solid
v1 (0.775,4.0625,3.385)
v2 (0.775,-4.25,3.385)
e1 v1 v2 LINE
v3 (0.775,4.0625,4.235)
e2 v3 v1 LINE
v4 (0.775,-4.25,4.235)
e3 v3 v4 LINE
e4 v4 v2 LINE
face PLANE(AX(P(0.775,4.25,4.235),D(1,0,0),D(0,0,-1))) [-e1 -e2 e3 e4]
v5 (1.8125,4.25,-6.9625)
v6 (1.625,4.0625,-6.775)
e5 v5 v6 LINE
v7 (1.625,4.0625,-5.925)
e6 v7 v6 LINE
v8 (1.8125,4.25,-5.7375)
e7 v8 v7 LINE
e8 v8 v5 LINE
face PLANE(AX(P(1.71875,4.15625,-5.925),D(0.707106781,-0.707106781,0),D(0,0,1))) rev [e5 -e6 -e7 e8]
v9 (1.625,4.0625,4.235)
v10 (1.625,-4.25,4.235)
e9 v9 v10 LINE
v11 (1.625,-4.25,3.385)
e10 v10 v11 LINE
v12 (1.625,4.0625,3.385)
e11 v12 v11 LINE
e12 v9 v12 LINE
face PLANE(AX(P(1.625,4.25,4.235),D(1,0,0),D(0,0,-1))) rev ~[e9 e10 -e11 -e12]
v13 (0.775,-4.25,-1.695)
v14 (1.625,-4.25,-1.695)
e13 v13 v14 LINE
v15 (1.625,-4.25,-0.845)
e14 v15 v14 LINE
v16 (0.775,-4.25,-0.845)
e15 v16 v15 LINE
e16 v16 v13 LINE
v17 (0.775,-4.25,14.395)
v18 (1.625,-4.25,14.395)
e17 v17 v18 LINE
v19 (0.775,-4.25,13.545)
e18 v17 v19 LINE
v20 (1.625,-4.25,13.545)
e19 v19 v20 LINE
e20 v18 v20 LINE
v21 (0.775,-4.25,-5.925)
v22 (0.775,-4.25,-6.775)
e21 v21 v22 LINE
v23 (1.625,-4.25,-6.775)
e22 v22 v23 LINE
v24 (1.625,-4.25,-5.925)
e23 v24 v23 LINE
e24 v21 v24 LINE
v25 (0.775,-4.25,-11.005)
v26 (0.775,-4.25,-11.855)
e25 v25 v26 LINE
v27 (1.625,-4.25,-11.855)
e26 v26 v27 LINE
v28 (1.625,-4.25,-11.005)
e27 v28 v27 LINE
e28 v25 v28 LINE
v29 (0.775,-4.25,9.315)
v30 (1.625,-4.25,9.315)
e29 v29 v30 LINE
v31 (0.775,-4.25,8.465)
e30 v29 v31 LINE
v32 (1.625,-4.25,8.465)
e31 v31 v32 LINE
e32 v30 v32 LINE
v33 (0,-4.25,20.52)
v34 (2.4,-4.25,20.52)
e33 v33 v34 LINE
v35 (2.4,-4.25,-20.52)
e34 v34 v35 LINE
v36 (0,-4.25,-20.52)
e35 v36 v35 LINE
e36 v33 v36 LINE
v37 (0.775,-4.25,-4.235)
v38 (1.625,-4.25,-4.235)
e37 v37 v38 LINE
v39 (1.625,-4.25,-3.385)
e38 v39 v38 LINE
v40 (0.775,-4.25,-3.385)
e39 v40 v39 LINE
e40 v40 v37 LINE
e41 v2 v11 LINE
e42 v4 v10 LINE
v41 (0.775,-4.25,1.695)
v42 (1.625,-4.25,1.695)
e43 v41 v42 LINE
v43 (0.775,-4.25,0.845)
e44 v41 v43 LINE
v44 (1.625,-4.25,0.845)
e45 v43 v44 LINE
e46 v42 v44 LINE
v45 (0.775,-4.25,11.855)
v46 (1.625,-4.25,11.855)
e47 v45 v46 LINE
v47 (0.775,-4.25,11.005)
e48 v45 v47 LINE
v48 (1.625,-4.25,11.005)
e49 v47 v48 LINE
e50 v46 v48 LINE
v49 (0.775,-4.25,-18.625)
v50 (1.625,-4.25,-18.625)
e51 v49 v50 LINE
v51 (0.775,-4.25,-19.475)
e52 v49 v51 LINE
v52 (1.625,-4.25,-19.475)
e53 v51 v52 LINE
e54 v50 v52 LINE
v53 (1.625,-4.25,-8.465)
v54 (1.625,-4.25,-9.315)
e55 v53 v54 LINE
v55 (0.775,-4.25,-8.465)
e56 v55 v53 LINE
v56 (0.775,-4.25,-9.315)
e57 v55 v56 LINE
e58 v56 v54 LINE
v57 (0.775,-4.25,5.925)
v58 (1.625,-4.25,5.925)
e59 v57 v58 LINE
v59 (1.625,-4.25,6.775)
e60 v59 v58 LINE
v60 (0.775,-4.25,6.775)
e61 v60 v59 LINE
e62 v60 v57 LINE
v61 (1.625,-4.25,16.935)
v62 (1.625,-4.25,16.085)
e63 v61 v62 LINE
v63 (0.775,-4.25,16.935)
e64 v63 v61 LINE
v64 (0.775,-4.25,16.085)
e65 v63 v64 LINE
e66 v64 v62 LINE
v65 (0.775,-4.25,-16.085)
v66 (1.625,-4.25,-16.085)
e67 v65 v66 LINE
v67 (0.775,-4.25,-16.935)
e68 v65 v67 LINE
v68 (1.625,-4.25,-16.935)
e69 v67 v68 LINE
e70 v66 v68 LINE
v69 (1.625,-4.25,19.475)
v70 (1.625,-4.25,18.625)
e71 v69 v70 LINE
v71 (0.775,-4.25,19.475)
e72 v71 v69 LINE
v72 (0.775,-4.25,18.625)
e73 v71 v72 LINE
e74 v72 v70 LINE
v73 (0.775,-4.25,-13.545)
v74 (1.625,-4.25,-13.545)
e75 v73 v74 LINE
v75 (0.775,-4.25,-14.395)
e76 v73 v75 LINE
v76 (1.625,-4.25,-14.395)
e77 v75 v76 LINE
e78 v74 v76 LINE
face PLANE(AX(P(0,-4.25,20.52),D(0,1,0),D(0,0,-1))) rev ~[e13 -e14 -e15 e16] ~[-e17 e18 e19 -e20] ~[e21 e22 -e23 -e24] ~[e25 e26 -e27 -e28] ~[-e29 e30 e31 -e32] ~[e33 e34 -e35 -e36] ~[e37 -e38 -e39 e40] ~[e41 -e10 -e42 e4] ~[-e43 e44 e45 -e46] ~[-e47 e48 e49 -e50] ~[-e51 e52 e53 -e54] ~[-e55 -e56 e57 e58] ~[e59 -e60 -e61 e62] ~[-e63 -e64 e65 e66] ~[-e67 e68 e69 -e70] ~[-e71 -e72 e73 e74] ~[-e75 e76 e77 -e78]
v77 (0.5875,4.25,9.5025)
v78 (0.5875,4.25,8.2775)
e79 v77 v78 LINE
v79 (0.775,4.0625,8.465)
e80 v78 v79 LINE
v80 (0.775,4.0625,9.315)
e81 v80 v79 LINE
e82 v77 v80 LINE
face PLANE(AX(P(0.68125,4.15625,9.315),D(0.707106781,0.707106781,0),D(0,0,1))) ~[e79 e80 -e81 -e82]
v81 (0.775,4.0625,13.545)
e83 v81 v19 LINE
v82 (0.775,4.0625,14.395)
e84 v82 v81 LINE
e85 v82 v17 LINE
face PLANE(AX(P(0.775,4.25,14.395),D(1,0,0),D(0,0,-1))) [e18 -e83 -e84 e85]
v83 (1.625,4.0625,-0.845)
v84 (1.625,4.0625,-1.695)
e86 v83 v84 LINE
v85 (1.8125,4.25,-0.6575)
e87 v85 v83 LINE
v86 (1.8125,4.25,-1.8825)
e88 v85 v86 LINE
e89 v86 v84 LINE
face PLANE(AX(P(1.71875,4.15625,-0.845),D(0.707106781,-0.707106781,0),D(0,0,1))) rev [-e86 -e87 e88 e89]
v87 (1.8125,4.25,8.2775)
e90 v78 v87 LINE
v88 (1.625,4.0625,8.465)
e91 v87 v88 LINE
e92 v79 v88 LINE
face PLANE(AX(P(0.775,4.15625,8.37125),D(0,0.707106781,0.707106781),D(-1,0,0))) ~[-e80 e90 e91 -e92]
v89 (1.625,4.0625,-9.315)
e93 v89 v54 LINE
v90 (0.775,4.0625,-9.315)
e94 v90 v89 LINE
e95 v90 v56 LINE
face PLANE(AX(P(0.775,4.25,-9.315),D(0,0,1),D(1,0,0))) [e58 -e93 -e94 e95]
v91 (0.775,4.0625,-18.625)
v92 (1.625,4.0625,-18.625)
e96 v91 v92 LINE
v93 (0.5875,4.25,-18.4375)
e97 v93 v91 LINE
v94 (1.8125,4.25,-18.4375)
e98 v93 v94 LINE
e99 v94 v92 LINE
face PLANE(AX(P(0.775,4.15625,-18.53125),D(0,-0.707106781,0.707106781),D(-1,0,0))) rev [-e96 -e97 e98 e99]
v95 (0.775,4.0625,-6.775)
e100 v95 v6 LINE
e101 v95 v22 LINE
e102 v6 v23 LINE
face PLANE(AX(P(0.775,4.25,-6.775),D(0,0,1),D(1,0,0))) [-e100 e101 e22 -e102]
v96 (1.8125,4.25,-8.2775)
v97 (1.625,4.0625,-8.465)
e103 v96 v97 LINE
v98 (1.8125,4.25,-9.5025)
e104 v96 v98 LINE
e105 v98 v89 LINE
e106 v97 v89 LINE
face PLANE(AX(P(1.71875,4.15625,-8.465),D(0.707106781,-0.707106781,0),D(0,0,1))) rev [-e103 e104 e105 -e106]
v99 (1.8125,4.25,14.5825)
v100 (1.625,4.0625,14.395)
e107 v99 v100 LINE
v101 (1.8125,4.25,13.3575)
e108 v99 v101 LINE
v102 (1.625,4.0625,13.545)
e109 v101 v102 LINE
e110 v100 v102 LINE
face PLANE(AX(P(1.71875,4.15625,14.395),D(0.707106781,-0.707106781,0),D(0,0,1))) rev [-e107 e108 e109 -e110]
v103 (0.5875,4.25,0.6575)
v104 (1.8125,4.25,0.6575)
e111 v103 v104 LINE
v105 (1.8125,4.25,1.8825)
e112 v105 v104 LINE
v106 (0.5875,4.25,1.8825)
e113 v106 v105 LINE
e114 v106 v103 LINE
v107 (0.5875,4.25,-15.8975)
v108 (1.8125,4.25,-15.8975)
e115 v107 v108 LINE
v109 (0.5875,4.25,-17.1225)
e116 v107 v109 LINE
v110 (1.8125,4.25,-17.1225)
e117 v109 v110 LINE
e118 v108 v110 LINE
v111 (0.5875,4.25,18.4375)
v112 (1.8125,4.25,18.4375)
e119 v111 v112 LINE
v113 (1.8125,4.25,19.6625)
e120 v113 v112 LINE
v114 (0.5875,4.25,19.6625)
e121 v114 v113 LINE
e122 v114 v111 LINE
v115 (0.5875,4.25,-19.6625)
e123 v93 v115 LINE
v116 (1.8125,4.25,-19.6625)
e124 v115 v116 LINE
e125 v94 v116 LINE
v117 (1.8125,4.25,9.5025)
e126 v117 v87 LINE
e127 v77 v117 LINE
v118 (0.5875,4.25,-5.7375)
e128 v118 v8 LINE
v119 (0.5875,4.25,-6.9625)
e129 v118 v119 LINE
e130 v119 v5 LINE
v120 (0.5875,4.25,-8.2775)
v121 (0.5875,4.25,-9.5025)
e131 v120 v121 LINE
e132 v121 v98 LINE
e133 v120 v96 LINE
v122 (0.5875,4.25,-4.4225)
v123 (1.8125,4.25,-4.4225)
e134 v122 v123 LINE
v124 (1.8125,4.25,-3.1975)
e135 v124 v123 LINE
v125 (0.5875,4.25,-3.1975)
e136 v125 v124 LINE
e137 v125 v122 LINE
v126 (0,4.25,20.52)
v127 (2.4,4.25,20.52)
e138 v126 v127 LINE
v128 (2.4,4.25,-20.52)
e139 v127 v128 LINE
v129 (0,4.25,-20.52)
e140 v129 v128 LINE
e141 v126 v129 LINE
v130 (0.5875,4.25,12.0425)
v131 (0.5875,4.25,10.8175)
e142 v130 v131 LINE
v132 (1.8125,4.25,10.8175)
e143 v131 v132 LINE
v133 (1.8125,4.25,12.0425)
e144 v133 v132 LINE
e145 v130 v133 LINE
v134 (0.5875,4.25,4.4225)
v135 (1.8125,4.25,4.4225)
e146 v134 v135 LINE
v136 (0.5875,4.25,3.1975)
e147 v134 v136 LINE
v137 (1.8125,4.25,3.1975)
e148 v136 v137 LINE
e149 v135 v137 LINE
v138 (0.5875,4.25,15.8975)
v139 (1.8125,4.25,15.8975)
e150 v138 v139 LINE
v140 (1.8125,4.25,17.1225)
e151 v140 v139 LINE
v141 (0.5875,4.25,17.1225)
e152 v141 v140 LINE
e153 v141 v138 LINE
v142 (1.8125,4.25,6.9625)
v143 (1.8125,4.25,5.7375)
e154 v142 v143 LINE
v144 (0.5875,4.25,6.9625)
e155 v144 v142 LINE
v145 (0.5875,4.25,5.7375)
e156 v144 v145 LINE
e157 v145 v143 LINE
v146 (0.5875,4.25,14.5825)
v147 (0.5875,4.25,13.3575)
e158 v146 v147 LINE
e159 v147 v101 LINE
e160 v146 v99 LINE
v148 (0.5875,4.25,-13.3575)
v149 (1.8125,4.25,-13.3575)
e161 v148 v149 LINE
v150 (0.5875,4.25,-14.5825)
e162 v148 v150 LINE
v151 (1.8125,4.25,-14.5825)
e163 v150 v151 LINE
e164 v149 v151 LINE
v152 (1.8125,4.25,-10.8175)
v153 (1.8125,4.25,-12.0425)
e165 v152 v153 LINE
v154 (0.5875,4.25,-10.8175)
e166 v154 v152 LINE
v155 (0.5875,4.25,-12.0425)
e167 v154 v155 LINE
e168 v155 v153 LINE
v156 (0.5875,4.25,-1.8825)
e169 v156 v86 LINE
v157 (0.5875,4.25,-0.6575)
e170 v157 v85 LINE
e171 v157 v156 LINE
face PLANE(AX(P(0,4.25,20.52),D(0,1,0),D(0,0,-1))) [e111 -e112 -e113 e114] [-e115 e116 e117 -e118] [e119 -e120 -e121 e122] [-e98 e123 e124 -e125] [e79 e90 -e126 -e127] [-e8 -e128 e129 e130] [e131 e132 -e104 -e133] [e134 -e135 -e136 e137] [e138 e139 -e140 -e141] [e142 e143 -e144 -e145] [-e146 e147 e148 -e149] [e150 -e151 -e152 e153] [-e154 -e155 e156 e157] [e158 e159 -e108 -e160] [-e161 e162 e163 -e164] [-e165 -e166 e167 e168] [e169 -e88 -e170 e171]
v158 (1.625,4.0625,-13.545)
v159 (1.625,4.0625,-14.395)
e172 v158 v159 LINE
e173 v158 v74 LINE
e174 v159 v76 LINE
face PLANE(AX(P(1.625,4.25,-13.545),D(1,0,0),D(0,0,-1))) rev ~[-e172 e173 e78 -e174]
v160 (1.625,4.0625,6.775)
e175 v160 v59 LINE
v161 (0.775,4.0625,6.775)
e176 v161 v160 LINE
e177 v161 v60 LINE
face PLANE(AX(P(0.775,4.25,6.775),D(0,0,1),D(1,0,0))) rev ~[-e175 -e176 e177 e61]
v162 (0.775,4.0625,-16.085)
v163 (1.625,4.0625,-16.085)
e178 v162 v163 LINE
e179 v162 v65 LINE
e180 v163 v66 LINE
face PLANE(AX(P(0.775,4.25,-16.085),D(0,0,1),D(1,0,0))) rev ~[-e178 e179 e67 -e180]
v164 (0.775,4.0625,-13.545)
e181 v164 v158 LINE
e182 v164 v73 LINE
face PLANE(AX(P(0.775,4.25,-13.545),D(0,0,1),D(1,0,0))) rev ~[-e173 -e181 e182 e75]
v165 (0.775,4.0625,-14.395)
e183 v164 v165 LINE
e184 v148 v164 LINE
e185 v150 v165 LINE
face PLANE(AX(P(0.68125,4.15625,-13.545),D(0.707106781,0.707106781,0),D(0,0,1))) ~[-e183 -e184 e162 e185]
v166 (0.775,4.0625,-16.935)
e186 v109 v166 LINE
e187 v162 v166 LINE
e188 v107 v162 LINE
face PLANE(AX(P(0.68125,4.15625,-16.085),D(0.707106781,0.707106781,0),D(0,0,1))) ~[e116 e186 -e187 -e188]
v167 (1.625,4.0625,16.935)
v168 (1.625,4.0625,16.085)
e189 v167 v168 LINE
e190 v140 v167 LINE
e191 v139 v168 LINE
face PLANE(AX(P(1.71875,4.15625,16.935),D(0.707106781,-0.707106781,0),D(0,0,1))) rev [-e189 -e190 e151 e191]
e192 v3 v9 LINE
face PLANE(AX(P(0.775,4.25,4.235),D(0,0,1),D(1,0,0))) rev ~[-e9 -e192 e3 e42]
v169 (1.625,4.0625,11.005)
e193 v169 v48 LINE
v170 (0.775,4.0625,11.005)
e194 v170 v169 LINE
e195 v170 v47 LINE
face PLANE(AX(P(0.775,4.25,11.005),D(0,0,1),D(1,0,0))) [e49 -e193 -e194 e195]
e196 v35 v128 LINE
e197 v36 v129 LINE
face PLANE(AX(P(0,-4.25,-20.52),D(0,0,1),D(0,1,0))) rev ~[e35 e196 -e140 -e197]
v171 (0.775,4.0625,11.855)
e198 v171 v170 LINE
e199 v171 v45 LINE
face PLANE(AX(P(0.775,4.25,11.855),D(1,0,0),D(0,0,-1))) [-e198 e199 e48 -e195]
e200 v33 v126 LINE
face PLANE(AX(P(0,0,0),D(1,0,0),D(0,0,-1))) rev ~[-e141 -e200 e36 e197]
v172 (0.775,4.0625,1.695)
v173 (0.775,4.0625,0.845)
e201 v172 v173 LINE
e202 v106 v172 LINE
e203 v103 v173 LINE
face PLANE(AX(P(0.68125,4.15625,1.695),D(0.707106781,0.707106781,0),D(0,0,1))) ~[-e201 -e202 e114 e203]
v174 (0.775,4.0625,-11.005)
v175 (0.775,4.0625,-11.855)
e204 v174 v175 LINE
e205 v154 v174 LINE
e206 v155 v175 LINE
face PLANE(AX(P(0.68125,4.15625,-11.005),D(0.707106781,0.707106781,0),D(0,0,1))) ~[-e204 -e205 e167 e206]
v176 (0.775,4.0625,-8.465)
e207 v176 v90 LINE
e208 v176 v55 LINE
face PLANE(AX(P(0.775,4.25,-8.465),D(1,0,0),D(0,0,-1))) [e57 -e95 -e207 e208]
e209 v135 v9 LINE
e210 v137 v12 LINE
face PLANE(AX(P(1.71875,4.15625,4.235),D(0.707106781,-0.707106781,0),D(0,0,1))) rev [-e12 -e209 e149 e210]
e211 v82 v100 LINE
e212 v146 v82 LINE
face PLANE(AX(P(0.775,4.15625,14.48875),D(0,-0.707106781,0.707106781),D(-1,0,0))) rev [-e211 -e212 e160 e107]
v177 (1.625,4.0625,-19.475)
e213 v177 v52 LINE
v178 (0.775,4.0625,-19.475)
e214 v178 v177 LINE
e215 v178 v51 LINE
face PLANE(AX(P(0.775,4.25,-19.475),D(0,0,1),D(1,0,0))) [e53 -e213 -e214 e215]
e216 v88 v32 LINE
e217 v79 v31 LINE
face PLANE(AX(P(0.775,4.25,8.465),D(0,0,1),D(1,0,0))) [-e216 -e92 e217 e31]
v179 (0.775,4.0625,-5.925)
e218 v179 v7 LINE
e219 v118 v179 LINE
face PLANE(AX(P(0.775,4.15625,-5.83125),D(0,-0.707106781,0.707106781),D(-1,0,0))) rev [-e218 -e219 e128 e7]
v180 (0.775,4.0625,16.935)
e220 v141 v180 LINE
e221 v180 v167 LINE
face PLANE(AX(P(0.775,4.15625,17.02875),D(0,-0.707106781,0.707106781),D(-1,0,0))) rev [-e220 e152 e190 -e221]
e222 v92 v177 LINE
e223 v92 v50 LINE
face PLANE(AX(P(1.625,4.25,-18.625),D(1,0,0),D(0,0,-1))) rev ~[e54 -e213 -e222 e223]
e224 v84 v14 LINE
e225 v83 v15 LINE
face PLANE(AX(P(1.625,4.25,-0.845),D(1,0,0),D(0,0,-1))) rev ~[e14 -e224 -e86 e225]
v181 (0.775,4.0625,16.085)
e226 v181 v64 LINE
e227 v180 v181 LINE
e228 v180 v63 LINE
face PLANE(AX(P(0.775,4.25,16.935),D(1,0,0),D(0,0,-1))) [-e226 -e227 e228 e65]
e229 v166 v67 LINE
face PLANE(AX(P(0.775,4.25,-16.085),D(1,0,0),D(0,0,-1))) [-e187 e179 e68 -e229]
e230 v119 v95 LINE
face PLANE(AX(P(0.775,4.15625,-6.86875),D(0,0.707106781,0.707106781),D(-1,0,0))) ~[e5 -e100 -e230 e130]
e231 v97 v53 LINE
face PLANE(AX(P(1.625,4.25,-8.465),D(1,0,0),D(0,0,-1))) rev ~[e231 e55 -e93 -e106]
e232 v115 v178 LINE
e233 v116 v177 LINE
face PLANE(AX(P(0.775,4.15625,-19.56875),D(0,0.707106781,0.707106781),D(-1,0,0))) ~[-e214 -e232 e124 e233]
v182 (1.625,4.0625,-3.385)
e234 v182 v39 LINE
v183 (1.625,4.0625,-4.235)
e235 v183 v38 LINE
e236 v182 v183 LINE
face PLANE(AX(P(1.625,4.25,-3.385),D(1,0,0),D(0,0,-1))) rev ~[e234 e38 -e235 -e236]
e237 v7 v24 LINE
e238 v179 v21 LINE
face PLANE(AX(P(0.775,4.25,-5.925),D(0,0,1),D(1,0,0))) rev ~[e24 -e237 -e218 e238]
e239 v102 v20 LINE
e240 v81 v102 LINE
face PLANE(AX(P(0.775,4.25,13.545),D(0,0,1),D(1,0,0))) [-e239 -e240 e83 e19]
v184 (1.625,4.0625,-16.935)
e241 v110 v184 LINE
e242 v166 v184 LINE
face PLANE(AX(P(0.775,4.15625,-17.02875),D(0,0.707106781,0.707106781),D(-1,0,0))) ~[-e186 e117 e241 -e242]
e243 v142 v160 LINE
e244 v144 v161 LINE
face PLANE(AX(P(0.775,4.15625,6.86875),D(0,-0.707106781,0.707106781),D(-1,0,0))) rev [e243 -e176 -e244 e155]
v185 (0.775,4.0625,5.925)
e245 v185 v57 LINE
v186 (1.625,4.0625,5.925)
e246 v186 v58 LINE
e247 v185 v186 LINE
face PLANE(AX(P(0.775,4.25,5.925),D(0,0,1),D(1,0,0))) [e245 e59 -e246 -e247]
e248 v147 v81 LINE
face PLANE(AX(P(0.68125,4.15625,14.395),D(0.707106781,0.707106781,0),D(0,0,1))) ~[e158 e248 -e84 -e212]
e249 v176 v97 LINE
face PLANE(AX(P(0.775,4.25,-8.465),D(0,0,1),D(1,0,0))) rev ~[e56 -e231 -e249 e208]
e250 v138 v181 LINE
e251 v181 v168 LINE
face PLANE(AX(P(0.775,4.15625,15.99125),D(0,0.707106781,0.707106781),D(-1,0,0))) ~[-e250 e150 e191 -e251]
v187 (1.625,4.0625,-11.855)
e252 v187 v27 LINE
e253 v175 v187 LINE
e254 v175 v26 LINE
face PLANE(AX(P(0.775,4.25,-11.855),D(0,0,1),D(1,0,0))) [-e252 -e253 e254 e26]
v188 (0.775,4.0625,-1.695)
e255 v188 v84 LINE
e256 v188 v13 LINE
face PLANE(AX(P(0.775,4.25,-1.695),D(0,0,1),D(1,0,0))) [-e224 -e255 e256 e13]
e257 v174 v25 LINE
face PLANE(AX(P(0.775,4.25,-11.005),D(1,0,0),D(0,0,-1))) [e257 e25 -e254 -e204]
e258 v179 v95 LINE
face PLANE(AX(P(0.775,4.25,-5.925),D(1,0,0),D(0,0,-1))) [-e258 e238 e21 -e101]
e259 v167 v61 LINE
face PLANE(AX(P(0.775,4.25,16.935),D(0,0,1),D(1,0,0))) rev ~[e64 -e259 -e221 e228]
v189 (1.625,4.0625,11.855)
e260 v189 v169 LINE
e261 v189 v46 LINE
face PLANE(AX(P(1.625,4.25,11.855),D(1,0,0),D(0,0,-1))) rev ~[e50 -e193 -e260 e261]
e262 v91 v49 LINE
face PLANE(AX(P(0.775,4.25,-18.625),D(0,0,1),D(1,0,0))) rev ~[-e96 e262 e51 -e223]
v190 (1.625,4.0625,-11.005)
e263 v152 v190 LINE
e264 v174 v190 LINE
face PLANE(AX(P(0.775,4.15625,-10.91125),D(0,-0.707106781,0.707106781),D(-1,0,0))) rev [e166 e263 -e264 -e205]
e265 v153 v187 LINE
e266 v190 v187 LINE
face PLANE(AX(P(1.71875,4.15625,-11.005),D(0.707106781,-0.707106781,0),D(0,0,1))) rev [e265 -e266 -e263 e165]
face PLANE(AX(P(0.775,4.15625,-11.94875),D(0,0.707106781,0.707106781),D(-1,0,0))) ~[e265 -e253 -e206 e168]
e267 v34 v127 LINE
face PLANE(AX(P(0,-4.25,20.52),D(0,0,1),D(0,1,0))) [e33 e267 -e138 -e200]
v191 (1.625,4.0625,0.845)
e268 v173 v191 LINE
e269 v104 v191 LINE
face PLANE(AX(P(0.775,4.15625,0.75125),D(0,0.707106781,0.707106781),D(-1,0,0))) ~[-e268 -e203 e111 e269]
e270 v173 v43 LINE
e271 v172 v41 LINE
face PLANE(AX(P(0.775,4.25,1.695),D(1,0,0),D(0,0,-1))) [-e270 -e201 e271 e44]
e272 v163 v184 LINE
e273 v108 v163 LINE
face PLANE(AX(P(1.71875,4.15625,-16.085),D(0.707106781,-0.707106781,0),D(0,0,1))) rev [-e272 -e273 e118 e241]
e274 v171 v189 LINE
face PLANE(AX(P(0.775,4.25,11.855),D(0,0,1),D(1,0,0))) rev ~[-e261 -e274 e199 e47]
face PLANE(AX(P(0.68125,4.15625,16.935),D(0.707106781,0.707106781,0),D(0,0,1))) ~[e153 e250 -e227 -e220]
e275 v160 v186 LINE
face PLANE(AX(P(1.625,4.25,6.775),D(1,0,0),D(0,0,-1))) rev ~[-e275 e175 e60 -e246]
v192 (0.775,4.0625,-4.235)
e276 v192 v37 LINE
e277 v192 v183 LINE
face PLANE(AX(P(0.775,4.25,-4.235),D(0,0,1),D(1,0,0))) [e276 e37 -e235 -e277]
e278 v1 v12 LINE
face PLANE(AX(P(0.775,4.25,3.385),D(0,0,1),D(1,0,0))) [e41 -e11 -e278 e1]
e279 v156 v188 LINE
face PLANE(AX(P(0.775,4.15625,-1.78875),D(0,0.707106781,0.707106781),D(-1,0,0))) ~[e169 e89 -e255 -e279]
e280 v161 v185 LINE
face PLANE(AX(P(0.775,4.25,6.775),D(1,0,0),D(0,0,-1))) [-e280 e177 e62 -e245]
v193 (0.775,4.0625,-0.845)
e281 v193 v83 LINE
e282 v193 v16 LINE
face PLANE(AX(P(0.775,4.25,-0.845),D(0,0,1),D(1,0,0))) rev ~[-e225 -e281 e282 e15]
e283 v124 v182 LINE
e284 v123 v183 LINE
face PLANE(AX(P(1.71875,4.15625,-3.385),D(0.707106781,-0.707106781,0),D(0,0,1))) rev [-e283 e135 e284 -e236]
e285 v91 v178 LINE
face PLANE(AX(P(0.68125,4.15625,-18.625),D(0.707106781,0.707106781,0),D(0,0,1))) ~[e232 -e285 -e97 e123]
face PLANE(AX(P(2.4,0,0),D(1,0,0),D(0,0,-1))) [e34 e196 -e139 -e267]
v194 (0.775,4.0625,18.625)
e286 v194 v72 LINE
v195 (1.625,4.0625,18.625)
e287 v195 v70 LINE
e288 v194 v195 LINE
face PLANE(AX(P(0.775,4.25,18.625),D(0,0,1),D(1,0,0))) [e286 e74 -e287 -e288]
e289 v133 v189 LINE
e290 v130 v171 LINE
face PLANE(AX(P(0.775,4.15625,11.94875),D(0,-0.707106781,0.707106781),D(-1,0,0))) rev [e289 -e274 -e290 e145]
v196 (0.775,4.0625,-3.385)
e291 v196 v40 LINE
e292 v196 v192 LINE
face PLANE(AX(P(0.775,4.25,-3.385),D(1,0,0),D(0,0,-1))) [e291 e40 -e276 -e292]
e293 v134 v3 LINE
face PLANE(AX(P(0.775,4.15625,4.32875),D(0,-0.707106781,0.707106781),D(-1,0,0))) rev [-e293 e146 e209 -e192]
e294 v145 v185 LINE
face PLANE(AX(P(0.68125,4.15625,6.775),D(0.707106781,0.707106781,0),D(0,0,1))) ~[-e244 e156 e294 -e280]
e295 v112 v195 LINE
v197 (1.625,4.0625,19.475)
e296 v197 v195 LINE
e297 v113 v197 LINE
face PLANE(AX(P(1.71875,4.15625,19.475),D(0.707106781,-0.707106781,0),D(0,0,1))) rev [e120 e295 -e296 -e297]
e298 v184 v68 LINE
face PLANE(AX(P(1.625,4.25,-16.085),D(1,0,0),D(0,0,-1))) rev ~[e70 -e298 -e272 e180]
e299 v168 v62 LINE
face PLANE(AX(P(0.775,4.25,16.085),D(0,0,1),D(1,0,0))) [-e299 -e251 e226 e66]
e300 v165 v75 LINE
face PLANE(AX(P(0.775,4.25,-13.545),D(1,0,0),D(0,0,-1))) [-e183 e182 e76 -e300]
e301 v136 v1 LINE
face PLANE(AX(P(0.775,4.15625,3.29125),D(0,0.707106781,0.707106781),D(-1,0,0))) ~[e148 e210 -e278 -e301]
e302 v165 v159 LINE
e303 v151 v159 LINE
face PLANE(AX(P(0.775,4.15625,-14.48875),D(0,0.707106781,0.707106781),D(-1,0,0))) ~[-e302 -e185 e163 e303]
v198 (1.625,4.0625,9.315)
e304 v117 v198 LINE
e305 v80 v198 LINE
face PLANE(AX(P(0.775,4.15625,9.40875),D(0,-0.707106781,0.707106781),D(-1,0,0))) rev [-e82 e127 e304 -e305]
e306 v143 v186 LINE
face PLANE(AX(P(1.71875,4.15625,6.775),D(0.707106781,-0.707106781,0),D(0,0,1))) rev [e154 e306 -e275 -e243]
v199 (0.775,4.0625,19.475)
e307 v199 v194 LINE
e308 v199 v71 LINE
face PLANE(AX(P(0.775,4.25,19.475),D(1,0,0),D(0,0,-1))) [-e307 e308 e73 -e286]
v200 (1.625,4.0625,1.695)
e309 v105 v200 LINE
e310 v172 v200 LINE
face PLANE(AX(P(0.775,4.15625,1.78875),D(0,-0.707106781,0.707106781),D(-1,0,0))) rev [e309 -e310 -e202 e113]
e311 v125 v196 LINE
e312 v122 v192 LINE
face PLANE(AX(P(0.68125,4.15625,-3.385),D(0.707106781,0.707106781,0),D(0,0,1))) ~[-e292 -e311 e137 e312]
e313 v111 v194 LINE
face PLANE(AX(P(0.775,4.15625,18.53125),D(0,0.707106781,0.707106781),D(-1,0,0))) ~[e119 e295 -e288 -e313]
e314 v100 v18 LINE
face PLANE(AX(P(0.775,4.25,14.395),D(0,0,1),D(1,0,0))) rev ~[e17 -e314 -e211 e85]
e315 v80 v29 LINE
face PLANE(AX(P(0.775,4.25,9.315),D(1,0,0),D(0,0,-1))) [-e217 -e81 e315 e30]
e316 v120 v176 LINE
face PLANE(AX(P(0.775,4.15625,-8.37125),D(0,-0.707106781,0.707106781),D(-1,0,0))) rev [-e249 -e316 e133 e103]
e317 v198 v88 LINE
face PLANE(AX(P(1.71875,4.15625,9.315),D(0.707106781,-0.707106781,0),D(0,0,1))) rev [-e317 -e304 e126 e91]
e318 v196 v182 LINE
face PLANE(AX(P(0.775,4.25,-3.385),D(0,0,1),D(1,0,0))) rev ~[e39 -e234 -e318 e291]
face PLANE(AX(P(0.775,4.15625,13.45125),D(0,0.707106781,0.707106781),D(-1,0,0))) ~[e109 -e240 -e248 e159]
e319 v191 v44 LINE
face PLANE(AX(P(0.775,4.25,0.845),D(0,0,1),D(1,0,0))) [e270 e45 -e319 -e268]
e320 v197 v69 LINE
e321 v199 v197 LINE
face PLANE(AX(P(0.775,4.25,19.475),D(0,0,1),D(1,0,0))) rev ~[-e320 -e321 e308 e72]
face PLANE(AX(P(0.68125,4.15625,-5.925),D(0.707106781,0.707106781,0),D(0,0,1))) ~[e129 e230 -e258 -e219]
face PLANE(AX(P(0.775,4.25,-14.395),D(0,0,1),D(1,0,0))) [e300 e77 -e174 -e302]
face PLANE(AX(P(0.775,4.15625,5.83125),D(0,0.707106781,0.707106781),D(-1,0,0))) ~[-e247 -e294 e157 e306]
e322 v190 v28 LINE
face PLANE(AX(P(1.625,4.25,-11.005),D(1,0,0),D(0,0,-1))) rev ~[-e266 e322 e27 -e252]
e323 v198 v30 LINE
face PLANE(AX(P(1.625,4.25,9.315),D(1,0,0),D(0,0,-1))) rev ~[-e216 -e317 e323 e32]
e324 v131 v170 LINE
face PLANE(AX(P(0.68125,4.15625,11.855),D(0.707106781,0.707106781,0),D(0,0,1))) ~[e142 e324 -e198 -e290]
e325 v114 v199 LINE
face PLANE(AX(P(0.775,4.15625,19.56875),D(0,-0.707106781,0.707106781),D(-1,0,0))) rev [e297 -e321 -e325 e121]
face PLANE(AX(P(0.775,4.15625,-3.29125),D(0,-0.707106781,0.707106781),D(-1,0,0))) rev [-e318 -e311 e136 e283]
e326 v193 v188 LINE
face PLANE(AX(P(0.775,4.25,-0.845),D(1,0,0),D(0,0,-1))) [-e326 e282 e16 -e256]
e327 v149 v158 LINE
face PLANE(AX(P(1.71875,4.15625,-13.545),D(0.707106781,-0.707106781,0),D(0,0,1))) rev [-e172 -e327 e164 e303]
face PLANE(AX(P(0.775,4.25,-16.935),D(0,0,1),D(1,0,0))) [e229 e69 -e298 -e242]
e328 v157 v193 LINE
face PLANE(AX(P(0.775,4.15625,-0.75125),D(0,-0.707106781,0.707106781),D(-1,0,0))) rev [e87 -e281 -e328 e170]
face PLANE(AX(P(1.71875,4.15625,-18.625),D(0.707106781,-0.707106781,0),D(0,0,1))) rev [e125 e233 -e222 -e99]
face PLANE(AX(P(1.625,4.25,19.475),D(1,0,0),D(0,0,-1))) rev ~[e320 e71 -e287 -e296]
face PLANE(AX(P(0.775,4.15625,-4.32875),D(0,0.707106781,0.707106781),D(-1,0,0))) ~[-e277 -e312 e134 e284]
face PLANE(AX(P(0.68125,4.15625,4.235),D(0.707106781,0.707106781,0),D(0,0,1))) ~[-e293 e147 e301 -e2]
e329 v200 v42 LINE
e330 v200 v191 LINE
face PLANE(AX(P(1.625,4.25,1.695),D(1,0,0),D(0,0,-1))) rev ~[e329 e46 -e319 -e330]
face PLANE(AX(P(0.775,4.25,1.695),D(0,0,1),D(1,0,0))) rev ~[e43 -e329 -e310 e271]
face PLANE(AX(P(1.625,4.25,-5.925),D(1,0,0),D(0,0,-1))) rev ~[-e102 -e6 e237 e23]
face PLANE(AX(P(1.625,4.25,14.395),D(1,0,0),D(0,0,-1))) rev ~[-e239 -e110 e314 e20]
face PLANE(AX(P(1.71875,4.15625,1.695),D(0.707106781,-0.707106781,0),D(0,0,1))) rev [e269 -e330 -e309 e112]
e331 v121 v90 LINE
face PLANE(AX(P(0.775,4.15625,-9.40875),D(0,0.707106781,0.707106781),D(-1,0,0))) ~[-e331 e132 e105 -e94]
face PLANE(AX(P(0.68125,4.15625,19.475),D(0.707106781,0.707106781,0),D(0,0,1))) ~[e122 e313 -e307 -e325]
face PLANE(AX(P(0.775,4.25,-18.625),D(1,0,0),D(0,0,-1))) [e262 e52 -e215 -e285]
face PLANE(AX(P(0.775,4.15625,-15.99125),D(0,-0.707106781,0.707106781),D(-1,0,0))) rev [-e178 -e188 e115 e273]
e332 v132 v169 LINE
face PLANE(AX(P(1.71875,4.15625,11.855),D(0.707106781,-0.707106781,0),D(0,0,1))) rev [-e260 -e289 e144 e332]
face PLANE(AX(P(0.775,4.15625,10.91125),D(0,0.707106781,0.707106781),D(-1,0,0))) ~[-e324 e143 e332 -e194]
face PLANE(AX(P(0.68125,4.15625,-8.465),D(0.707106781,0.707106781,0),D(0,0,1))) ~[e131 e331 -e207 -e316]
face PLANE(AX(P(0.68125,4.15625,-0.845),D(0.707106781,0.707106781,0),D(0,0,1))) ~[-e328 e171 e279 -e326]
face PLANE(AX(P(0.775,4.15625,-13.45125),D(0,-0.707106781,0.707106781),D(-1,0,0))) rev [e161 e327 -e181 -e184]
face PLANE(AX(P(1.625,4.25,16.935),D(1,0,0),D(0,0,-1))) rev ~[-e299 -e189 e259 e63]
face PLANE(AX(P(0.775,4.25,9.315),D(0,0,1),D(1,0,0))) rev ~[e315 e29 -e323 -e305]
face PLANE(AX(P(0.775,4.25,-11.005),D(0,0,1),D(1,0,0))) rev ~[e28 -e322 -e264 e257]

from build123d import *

# Parameters (mm, degrees)
SKETCH1_W                  = 41.04
SKETCH1_H                  = 8.5
BOSS_EXTRUDE1_DEPTH        = 2.4
SKETCH3_W                  = 0.85
SKETCH3_H                  = 0.85
CUT_EXTRUDE2_DEPTH         = 23.34010743
CHAMFER1_SIZE              = 0.1875
LPATTERN2_COUNT            = 16
LPATTERN2_PITCH            = 2.54
CHAMFER1_OF_LPATTERN2_SIZE = 0.1875


with BuildPart() as part:
    # Sketch1 → Boss-Extrude1 (new body)
    with BuildSketch(Plane(origin=(0, 0, 0), x_dir=(0, 0, -1), z_dir=(1, 0, 0))):
        Rectangle(SKETCH1_W, SKETCH1_H)
    extrude(amount=BOSS_EXTRUDE1_DEPTH)

    # Sketch3 → Cut-Extrude2 (cut, through all)
    with BuildSketch(Plane(origin=(0, 4.25, 0), x_dir=(1, 0, 0), z_dir=(0, 1, 0))):
        with Locations((1.2, -19.05)):
            Rectangle(SKETCH3_W, SKETCH3_H)
    cut_extrude2 = extrude(amount=-CUT_EXTRUDE2_DEPTH, mode=Mode.SUBTRACT)

    # Chamfer1
    chamfer1_edges = [part.edges().sort_by_distance(p)[0] for p in [
        (1.2, 4.25, 18.625),
        (0.775, 4.25, 19.05),
        (1.2, 4.25, 19.475),
        (1.625, 4.25, 19.05),
    ]]
    chamfer(chamfer1_edges, length=CHAMFER1_SIZE)

    # LPattern2: Cut-Extrude2 ×16
    with Locations(*[(0, 0, -i * LPATTERN2_PITCH) for i in range(1, LPATTERN2_COUNT)]):
        add(cut_extrude2, mode=Mode.SUBTRACT)

    # Chamfer1 of LPattern2
    chamfer1_of_lpattern2_edges = [part.edges().sort_by_distance(p)[0] for p in [
        (1.2, 4.25, 16.085),
        (0.775, 4.25, 16.51),
        (1.2, 4.25, 16.935),
        (1.625, 4.25, 16.51),
        (1.2, 4.25, 13.545),
        (0.775, 4.25, 13.97),
        (1.2, 4.25, 14.395),
        (1.625, 4.25, 13.97),
        (1.2, 4.25, 11.005),
        (0.775, 4.25, 11.43),
        (1.2, 4.25, 11.855),
        (1.625, 4.25, 11.43),
        (1.2, 4.25, 8.465),
        (0.775, 4.25, 8.89),
        (1.2, 4.25, 9.315),
        (1.625, 4.25, 8.89),
        (1.2, 4.25, 5.925),
        (0.775, 4.25, 6.35),
        (1.2, 4.25, 6.775),
        (1.625, 4.25, 6.35),
        (1.2, 4.25, 3.385),
        (0.775, 4.25, 3.81),
        (1.2, 4.25, 4.235),
        (1.625, 4.25, 3.81),
        (1.2, 4.25, 0.845),
        (0.775, 4.25, 1.27),
        (1.2, 4.25, 1.695),
        (1.625, 4.25, 1.27),
        (1.2, 4.25, -1.695),
        (0.775, 4.25, -1.27),
        (1.2, 4.25, -0.845),
        (1.625, 4.25, -1.27),
        (1.2, 4.25, -4.235),
        (0.775, 4.25, -3.81),
        (1.2, 4.25, -3.385),
        (1.625, 4.25, -3.81),
        (1.2, 4.25, -6.775),
        (0.775, 4.25, -6.35),
        (1.2, 4.25, -5.925),
        (1.625, 4.25, -6.35),
        (1.2, 4.25, -9.315),
        (0.775, 4.25, -8.89),
        (1.2, 4.25, -8.465),
        (1.625, 4.25, -8.89),
        (1.2, 4.25, -11.855),
        (0.775, 4.25, -11.43),
        (1.2, 4.25, -11.005),
        (1.625, 4.25, -11.43),
        (1.2, 4.25, -14.395),
        (0.775, 4.25, -13.97),
        (1.2, 4.25, -13.545),
        (1.625, 4.25, -13.97),
        (1.2, 4.25, -16.935),
        (0.775, 4.25, -16.51),
        (1.2, 4.25, -16.085),
        (1.625, 4.25, -16.51),
        (1.2, 4.25, -19.475),
        (0.775, 4.25, -19.05),
        (1.2, 4.25, -18.625),
        (1.625, 4.25, -19.05),
    ]]
    chamfer(chamfer1_of_lpattern2_edges, length=CHAMFER1_OF_LPATTERN2_SIZE)


solid = part.part
